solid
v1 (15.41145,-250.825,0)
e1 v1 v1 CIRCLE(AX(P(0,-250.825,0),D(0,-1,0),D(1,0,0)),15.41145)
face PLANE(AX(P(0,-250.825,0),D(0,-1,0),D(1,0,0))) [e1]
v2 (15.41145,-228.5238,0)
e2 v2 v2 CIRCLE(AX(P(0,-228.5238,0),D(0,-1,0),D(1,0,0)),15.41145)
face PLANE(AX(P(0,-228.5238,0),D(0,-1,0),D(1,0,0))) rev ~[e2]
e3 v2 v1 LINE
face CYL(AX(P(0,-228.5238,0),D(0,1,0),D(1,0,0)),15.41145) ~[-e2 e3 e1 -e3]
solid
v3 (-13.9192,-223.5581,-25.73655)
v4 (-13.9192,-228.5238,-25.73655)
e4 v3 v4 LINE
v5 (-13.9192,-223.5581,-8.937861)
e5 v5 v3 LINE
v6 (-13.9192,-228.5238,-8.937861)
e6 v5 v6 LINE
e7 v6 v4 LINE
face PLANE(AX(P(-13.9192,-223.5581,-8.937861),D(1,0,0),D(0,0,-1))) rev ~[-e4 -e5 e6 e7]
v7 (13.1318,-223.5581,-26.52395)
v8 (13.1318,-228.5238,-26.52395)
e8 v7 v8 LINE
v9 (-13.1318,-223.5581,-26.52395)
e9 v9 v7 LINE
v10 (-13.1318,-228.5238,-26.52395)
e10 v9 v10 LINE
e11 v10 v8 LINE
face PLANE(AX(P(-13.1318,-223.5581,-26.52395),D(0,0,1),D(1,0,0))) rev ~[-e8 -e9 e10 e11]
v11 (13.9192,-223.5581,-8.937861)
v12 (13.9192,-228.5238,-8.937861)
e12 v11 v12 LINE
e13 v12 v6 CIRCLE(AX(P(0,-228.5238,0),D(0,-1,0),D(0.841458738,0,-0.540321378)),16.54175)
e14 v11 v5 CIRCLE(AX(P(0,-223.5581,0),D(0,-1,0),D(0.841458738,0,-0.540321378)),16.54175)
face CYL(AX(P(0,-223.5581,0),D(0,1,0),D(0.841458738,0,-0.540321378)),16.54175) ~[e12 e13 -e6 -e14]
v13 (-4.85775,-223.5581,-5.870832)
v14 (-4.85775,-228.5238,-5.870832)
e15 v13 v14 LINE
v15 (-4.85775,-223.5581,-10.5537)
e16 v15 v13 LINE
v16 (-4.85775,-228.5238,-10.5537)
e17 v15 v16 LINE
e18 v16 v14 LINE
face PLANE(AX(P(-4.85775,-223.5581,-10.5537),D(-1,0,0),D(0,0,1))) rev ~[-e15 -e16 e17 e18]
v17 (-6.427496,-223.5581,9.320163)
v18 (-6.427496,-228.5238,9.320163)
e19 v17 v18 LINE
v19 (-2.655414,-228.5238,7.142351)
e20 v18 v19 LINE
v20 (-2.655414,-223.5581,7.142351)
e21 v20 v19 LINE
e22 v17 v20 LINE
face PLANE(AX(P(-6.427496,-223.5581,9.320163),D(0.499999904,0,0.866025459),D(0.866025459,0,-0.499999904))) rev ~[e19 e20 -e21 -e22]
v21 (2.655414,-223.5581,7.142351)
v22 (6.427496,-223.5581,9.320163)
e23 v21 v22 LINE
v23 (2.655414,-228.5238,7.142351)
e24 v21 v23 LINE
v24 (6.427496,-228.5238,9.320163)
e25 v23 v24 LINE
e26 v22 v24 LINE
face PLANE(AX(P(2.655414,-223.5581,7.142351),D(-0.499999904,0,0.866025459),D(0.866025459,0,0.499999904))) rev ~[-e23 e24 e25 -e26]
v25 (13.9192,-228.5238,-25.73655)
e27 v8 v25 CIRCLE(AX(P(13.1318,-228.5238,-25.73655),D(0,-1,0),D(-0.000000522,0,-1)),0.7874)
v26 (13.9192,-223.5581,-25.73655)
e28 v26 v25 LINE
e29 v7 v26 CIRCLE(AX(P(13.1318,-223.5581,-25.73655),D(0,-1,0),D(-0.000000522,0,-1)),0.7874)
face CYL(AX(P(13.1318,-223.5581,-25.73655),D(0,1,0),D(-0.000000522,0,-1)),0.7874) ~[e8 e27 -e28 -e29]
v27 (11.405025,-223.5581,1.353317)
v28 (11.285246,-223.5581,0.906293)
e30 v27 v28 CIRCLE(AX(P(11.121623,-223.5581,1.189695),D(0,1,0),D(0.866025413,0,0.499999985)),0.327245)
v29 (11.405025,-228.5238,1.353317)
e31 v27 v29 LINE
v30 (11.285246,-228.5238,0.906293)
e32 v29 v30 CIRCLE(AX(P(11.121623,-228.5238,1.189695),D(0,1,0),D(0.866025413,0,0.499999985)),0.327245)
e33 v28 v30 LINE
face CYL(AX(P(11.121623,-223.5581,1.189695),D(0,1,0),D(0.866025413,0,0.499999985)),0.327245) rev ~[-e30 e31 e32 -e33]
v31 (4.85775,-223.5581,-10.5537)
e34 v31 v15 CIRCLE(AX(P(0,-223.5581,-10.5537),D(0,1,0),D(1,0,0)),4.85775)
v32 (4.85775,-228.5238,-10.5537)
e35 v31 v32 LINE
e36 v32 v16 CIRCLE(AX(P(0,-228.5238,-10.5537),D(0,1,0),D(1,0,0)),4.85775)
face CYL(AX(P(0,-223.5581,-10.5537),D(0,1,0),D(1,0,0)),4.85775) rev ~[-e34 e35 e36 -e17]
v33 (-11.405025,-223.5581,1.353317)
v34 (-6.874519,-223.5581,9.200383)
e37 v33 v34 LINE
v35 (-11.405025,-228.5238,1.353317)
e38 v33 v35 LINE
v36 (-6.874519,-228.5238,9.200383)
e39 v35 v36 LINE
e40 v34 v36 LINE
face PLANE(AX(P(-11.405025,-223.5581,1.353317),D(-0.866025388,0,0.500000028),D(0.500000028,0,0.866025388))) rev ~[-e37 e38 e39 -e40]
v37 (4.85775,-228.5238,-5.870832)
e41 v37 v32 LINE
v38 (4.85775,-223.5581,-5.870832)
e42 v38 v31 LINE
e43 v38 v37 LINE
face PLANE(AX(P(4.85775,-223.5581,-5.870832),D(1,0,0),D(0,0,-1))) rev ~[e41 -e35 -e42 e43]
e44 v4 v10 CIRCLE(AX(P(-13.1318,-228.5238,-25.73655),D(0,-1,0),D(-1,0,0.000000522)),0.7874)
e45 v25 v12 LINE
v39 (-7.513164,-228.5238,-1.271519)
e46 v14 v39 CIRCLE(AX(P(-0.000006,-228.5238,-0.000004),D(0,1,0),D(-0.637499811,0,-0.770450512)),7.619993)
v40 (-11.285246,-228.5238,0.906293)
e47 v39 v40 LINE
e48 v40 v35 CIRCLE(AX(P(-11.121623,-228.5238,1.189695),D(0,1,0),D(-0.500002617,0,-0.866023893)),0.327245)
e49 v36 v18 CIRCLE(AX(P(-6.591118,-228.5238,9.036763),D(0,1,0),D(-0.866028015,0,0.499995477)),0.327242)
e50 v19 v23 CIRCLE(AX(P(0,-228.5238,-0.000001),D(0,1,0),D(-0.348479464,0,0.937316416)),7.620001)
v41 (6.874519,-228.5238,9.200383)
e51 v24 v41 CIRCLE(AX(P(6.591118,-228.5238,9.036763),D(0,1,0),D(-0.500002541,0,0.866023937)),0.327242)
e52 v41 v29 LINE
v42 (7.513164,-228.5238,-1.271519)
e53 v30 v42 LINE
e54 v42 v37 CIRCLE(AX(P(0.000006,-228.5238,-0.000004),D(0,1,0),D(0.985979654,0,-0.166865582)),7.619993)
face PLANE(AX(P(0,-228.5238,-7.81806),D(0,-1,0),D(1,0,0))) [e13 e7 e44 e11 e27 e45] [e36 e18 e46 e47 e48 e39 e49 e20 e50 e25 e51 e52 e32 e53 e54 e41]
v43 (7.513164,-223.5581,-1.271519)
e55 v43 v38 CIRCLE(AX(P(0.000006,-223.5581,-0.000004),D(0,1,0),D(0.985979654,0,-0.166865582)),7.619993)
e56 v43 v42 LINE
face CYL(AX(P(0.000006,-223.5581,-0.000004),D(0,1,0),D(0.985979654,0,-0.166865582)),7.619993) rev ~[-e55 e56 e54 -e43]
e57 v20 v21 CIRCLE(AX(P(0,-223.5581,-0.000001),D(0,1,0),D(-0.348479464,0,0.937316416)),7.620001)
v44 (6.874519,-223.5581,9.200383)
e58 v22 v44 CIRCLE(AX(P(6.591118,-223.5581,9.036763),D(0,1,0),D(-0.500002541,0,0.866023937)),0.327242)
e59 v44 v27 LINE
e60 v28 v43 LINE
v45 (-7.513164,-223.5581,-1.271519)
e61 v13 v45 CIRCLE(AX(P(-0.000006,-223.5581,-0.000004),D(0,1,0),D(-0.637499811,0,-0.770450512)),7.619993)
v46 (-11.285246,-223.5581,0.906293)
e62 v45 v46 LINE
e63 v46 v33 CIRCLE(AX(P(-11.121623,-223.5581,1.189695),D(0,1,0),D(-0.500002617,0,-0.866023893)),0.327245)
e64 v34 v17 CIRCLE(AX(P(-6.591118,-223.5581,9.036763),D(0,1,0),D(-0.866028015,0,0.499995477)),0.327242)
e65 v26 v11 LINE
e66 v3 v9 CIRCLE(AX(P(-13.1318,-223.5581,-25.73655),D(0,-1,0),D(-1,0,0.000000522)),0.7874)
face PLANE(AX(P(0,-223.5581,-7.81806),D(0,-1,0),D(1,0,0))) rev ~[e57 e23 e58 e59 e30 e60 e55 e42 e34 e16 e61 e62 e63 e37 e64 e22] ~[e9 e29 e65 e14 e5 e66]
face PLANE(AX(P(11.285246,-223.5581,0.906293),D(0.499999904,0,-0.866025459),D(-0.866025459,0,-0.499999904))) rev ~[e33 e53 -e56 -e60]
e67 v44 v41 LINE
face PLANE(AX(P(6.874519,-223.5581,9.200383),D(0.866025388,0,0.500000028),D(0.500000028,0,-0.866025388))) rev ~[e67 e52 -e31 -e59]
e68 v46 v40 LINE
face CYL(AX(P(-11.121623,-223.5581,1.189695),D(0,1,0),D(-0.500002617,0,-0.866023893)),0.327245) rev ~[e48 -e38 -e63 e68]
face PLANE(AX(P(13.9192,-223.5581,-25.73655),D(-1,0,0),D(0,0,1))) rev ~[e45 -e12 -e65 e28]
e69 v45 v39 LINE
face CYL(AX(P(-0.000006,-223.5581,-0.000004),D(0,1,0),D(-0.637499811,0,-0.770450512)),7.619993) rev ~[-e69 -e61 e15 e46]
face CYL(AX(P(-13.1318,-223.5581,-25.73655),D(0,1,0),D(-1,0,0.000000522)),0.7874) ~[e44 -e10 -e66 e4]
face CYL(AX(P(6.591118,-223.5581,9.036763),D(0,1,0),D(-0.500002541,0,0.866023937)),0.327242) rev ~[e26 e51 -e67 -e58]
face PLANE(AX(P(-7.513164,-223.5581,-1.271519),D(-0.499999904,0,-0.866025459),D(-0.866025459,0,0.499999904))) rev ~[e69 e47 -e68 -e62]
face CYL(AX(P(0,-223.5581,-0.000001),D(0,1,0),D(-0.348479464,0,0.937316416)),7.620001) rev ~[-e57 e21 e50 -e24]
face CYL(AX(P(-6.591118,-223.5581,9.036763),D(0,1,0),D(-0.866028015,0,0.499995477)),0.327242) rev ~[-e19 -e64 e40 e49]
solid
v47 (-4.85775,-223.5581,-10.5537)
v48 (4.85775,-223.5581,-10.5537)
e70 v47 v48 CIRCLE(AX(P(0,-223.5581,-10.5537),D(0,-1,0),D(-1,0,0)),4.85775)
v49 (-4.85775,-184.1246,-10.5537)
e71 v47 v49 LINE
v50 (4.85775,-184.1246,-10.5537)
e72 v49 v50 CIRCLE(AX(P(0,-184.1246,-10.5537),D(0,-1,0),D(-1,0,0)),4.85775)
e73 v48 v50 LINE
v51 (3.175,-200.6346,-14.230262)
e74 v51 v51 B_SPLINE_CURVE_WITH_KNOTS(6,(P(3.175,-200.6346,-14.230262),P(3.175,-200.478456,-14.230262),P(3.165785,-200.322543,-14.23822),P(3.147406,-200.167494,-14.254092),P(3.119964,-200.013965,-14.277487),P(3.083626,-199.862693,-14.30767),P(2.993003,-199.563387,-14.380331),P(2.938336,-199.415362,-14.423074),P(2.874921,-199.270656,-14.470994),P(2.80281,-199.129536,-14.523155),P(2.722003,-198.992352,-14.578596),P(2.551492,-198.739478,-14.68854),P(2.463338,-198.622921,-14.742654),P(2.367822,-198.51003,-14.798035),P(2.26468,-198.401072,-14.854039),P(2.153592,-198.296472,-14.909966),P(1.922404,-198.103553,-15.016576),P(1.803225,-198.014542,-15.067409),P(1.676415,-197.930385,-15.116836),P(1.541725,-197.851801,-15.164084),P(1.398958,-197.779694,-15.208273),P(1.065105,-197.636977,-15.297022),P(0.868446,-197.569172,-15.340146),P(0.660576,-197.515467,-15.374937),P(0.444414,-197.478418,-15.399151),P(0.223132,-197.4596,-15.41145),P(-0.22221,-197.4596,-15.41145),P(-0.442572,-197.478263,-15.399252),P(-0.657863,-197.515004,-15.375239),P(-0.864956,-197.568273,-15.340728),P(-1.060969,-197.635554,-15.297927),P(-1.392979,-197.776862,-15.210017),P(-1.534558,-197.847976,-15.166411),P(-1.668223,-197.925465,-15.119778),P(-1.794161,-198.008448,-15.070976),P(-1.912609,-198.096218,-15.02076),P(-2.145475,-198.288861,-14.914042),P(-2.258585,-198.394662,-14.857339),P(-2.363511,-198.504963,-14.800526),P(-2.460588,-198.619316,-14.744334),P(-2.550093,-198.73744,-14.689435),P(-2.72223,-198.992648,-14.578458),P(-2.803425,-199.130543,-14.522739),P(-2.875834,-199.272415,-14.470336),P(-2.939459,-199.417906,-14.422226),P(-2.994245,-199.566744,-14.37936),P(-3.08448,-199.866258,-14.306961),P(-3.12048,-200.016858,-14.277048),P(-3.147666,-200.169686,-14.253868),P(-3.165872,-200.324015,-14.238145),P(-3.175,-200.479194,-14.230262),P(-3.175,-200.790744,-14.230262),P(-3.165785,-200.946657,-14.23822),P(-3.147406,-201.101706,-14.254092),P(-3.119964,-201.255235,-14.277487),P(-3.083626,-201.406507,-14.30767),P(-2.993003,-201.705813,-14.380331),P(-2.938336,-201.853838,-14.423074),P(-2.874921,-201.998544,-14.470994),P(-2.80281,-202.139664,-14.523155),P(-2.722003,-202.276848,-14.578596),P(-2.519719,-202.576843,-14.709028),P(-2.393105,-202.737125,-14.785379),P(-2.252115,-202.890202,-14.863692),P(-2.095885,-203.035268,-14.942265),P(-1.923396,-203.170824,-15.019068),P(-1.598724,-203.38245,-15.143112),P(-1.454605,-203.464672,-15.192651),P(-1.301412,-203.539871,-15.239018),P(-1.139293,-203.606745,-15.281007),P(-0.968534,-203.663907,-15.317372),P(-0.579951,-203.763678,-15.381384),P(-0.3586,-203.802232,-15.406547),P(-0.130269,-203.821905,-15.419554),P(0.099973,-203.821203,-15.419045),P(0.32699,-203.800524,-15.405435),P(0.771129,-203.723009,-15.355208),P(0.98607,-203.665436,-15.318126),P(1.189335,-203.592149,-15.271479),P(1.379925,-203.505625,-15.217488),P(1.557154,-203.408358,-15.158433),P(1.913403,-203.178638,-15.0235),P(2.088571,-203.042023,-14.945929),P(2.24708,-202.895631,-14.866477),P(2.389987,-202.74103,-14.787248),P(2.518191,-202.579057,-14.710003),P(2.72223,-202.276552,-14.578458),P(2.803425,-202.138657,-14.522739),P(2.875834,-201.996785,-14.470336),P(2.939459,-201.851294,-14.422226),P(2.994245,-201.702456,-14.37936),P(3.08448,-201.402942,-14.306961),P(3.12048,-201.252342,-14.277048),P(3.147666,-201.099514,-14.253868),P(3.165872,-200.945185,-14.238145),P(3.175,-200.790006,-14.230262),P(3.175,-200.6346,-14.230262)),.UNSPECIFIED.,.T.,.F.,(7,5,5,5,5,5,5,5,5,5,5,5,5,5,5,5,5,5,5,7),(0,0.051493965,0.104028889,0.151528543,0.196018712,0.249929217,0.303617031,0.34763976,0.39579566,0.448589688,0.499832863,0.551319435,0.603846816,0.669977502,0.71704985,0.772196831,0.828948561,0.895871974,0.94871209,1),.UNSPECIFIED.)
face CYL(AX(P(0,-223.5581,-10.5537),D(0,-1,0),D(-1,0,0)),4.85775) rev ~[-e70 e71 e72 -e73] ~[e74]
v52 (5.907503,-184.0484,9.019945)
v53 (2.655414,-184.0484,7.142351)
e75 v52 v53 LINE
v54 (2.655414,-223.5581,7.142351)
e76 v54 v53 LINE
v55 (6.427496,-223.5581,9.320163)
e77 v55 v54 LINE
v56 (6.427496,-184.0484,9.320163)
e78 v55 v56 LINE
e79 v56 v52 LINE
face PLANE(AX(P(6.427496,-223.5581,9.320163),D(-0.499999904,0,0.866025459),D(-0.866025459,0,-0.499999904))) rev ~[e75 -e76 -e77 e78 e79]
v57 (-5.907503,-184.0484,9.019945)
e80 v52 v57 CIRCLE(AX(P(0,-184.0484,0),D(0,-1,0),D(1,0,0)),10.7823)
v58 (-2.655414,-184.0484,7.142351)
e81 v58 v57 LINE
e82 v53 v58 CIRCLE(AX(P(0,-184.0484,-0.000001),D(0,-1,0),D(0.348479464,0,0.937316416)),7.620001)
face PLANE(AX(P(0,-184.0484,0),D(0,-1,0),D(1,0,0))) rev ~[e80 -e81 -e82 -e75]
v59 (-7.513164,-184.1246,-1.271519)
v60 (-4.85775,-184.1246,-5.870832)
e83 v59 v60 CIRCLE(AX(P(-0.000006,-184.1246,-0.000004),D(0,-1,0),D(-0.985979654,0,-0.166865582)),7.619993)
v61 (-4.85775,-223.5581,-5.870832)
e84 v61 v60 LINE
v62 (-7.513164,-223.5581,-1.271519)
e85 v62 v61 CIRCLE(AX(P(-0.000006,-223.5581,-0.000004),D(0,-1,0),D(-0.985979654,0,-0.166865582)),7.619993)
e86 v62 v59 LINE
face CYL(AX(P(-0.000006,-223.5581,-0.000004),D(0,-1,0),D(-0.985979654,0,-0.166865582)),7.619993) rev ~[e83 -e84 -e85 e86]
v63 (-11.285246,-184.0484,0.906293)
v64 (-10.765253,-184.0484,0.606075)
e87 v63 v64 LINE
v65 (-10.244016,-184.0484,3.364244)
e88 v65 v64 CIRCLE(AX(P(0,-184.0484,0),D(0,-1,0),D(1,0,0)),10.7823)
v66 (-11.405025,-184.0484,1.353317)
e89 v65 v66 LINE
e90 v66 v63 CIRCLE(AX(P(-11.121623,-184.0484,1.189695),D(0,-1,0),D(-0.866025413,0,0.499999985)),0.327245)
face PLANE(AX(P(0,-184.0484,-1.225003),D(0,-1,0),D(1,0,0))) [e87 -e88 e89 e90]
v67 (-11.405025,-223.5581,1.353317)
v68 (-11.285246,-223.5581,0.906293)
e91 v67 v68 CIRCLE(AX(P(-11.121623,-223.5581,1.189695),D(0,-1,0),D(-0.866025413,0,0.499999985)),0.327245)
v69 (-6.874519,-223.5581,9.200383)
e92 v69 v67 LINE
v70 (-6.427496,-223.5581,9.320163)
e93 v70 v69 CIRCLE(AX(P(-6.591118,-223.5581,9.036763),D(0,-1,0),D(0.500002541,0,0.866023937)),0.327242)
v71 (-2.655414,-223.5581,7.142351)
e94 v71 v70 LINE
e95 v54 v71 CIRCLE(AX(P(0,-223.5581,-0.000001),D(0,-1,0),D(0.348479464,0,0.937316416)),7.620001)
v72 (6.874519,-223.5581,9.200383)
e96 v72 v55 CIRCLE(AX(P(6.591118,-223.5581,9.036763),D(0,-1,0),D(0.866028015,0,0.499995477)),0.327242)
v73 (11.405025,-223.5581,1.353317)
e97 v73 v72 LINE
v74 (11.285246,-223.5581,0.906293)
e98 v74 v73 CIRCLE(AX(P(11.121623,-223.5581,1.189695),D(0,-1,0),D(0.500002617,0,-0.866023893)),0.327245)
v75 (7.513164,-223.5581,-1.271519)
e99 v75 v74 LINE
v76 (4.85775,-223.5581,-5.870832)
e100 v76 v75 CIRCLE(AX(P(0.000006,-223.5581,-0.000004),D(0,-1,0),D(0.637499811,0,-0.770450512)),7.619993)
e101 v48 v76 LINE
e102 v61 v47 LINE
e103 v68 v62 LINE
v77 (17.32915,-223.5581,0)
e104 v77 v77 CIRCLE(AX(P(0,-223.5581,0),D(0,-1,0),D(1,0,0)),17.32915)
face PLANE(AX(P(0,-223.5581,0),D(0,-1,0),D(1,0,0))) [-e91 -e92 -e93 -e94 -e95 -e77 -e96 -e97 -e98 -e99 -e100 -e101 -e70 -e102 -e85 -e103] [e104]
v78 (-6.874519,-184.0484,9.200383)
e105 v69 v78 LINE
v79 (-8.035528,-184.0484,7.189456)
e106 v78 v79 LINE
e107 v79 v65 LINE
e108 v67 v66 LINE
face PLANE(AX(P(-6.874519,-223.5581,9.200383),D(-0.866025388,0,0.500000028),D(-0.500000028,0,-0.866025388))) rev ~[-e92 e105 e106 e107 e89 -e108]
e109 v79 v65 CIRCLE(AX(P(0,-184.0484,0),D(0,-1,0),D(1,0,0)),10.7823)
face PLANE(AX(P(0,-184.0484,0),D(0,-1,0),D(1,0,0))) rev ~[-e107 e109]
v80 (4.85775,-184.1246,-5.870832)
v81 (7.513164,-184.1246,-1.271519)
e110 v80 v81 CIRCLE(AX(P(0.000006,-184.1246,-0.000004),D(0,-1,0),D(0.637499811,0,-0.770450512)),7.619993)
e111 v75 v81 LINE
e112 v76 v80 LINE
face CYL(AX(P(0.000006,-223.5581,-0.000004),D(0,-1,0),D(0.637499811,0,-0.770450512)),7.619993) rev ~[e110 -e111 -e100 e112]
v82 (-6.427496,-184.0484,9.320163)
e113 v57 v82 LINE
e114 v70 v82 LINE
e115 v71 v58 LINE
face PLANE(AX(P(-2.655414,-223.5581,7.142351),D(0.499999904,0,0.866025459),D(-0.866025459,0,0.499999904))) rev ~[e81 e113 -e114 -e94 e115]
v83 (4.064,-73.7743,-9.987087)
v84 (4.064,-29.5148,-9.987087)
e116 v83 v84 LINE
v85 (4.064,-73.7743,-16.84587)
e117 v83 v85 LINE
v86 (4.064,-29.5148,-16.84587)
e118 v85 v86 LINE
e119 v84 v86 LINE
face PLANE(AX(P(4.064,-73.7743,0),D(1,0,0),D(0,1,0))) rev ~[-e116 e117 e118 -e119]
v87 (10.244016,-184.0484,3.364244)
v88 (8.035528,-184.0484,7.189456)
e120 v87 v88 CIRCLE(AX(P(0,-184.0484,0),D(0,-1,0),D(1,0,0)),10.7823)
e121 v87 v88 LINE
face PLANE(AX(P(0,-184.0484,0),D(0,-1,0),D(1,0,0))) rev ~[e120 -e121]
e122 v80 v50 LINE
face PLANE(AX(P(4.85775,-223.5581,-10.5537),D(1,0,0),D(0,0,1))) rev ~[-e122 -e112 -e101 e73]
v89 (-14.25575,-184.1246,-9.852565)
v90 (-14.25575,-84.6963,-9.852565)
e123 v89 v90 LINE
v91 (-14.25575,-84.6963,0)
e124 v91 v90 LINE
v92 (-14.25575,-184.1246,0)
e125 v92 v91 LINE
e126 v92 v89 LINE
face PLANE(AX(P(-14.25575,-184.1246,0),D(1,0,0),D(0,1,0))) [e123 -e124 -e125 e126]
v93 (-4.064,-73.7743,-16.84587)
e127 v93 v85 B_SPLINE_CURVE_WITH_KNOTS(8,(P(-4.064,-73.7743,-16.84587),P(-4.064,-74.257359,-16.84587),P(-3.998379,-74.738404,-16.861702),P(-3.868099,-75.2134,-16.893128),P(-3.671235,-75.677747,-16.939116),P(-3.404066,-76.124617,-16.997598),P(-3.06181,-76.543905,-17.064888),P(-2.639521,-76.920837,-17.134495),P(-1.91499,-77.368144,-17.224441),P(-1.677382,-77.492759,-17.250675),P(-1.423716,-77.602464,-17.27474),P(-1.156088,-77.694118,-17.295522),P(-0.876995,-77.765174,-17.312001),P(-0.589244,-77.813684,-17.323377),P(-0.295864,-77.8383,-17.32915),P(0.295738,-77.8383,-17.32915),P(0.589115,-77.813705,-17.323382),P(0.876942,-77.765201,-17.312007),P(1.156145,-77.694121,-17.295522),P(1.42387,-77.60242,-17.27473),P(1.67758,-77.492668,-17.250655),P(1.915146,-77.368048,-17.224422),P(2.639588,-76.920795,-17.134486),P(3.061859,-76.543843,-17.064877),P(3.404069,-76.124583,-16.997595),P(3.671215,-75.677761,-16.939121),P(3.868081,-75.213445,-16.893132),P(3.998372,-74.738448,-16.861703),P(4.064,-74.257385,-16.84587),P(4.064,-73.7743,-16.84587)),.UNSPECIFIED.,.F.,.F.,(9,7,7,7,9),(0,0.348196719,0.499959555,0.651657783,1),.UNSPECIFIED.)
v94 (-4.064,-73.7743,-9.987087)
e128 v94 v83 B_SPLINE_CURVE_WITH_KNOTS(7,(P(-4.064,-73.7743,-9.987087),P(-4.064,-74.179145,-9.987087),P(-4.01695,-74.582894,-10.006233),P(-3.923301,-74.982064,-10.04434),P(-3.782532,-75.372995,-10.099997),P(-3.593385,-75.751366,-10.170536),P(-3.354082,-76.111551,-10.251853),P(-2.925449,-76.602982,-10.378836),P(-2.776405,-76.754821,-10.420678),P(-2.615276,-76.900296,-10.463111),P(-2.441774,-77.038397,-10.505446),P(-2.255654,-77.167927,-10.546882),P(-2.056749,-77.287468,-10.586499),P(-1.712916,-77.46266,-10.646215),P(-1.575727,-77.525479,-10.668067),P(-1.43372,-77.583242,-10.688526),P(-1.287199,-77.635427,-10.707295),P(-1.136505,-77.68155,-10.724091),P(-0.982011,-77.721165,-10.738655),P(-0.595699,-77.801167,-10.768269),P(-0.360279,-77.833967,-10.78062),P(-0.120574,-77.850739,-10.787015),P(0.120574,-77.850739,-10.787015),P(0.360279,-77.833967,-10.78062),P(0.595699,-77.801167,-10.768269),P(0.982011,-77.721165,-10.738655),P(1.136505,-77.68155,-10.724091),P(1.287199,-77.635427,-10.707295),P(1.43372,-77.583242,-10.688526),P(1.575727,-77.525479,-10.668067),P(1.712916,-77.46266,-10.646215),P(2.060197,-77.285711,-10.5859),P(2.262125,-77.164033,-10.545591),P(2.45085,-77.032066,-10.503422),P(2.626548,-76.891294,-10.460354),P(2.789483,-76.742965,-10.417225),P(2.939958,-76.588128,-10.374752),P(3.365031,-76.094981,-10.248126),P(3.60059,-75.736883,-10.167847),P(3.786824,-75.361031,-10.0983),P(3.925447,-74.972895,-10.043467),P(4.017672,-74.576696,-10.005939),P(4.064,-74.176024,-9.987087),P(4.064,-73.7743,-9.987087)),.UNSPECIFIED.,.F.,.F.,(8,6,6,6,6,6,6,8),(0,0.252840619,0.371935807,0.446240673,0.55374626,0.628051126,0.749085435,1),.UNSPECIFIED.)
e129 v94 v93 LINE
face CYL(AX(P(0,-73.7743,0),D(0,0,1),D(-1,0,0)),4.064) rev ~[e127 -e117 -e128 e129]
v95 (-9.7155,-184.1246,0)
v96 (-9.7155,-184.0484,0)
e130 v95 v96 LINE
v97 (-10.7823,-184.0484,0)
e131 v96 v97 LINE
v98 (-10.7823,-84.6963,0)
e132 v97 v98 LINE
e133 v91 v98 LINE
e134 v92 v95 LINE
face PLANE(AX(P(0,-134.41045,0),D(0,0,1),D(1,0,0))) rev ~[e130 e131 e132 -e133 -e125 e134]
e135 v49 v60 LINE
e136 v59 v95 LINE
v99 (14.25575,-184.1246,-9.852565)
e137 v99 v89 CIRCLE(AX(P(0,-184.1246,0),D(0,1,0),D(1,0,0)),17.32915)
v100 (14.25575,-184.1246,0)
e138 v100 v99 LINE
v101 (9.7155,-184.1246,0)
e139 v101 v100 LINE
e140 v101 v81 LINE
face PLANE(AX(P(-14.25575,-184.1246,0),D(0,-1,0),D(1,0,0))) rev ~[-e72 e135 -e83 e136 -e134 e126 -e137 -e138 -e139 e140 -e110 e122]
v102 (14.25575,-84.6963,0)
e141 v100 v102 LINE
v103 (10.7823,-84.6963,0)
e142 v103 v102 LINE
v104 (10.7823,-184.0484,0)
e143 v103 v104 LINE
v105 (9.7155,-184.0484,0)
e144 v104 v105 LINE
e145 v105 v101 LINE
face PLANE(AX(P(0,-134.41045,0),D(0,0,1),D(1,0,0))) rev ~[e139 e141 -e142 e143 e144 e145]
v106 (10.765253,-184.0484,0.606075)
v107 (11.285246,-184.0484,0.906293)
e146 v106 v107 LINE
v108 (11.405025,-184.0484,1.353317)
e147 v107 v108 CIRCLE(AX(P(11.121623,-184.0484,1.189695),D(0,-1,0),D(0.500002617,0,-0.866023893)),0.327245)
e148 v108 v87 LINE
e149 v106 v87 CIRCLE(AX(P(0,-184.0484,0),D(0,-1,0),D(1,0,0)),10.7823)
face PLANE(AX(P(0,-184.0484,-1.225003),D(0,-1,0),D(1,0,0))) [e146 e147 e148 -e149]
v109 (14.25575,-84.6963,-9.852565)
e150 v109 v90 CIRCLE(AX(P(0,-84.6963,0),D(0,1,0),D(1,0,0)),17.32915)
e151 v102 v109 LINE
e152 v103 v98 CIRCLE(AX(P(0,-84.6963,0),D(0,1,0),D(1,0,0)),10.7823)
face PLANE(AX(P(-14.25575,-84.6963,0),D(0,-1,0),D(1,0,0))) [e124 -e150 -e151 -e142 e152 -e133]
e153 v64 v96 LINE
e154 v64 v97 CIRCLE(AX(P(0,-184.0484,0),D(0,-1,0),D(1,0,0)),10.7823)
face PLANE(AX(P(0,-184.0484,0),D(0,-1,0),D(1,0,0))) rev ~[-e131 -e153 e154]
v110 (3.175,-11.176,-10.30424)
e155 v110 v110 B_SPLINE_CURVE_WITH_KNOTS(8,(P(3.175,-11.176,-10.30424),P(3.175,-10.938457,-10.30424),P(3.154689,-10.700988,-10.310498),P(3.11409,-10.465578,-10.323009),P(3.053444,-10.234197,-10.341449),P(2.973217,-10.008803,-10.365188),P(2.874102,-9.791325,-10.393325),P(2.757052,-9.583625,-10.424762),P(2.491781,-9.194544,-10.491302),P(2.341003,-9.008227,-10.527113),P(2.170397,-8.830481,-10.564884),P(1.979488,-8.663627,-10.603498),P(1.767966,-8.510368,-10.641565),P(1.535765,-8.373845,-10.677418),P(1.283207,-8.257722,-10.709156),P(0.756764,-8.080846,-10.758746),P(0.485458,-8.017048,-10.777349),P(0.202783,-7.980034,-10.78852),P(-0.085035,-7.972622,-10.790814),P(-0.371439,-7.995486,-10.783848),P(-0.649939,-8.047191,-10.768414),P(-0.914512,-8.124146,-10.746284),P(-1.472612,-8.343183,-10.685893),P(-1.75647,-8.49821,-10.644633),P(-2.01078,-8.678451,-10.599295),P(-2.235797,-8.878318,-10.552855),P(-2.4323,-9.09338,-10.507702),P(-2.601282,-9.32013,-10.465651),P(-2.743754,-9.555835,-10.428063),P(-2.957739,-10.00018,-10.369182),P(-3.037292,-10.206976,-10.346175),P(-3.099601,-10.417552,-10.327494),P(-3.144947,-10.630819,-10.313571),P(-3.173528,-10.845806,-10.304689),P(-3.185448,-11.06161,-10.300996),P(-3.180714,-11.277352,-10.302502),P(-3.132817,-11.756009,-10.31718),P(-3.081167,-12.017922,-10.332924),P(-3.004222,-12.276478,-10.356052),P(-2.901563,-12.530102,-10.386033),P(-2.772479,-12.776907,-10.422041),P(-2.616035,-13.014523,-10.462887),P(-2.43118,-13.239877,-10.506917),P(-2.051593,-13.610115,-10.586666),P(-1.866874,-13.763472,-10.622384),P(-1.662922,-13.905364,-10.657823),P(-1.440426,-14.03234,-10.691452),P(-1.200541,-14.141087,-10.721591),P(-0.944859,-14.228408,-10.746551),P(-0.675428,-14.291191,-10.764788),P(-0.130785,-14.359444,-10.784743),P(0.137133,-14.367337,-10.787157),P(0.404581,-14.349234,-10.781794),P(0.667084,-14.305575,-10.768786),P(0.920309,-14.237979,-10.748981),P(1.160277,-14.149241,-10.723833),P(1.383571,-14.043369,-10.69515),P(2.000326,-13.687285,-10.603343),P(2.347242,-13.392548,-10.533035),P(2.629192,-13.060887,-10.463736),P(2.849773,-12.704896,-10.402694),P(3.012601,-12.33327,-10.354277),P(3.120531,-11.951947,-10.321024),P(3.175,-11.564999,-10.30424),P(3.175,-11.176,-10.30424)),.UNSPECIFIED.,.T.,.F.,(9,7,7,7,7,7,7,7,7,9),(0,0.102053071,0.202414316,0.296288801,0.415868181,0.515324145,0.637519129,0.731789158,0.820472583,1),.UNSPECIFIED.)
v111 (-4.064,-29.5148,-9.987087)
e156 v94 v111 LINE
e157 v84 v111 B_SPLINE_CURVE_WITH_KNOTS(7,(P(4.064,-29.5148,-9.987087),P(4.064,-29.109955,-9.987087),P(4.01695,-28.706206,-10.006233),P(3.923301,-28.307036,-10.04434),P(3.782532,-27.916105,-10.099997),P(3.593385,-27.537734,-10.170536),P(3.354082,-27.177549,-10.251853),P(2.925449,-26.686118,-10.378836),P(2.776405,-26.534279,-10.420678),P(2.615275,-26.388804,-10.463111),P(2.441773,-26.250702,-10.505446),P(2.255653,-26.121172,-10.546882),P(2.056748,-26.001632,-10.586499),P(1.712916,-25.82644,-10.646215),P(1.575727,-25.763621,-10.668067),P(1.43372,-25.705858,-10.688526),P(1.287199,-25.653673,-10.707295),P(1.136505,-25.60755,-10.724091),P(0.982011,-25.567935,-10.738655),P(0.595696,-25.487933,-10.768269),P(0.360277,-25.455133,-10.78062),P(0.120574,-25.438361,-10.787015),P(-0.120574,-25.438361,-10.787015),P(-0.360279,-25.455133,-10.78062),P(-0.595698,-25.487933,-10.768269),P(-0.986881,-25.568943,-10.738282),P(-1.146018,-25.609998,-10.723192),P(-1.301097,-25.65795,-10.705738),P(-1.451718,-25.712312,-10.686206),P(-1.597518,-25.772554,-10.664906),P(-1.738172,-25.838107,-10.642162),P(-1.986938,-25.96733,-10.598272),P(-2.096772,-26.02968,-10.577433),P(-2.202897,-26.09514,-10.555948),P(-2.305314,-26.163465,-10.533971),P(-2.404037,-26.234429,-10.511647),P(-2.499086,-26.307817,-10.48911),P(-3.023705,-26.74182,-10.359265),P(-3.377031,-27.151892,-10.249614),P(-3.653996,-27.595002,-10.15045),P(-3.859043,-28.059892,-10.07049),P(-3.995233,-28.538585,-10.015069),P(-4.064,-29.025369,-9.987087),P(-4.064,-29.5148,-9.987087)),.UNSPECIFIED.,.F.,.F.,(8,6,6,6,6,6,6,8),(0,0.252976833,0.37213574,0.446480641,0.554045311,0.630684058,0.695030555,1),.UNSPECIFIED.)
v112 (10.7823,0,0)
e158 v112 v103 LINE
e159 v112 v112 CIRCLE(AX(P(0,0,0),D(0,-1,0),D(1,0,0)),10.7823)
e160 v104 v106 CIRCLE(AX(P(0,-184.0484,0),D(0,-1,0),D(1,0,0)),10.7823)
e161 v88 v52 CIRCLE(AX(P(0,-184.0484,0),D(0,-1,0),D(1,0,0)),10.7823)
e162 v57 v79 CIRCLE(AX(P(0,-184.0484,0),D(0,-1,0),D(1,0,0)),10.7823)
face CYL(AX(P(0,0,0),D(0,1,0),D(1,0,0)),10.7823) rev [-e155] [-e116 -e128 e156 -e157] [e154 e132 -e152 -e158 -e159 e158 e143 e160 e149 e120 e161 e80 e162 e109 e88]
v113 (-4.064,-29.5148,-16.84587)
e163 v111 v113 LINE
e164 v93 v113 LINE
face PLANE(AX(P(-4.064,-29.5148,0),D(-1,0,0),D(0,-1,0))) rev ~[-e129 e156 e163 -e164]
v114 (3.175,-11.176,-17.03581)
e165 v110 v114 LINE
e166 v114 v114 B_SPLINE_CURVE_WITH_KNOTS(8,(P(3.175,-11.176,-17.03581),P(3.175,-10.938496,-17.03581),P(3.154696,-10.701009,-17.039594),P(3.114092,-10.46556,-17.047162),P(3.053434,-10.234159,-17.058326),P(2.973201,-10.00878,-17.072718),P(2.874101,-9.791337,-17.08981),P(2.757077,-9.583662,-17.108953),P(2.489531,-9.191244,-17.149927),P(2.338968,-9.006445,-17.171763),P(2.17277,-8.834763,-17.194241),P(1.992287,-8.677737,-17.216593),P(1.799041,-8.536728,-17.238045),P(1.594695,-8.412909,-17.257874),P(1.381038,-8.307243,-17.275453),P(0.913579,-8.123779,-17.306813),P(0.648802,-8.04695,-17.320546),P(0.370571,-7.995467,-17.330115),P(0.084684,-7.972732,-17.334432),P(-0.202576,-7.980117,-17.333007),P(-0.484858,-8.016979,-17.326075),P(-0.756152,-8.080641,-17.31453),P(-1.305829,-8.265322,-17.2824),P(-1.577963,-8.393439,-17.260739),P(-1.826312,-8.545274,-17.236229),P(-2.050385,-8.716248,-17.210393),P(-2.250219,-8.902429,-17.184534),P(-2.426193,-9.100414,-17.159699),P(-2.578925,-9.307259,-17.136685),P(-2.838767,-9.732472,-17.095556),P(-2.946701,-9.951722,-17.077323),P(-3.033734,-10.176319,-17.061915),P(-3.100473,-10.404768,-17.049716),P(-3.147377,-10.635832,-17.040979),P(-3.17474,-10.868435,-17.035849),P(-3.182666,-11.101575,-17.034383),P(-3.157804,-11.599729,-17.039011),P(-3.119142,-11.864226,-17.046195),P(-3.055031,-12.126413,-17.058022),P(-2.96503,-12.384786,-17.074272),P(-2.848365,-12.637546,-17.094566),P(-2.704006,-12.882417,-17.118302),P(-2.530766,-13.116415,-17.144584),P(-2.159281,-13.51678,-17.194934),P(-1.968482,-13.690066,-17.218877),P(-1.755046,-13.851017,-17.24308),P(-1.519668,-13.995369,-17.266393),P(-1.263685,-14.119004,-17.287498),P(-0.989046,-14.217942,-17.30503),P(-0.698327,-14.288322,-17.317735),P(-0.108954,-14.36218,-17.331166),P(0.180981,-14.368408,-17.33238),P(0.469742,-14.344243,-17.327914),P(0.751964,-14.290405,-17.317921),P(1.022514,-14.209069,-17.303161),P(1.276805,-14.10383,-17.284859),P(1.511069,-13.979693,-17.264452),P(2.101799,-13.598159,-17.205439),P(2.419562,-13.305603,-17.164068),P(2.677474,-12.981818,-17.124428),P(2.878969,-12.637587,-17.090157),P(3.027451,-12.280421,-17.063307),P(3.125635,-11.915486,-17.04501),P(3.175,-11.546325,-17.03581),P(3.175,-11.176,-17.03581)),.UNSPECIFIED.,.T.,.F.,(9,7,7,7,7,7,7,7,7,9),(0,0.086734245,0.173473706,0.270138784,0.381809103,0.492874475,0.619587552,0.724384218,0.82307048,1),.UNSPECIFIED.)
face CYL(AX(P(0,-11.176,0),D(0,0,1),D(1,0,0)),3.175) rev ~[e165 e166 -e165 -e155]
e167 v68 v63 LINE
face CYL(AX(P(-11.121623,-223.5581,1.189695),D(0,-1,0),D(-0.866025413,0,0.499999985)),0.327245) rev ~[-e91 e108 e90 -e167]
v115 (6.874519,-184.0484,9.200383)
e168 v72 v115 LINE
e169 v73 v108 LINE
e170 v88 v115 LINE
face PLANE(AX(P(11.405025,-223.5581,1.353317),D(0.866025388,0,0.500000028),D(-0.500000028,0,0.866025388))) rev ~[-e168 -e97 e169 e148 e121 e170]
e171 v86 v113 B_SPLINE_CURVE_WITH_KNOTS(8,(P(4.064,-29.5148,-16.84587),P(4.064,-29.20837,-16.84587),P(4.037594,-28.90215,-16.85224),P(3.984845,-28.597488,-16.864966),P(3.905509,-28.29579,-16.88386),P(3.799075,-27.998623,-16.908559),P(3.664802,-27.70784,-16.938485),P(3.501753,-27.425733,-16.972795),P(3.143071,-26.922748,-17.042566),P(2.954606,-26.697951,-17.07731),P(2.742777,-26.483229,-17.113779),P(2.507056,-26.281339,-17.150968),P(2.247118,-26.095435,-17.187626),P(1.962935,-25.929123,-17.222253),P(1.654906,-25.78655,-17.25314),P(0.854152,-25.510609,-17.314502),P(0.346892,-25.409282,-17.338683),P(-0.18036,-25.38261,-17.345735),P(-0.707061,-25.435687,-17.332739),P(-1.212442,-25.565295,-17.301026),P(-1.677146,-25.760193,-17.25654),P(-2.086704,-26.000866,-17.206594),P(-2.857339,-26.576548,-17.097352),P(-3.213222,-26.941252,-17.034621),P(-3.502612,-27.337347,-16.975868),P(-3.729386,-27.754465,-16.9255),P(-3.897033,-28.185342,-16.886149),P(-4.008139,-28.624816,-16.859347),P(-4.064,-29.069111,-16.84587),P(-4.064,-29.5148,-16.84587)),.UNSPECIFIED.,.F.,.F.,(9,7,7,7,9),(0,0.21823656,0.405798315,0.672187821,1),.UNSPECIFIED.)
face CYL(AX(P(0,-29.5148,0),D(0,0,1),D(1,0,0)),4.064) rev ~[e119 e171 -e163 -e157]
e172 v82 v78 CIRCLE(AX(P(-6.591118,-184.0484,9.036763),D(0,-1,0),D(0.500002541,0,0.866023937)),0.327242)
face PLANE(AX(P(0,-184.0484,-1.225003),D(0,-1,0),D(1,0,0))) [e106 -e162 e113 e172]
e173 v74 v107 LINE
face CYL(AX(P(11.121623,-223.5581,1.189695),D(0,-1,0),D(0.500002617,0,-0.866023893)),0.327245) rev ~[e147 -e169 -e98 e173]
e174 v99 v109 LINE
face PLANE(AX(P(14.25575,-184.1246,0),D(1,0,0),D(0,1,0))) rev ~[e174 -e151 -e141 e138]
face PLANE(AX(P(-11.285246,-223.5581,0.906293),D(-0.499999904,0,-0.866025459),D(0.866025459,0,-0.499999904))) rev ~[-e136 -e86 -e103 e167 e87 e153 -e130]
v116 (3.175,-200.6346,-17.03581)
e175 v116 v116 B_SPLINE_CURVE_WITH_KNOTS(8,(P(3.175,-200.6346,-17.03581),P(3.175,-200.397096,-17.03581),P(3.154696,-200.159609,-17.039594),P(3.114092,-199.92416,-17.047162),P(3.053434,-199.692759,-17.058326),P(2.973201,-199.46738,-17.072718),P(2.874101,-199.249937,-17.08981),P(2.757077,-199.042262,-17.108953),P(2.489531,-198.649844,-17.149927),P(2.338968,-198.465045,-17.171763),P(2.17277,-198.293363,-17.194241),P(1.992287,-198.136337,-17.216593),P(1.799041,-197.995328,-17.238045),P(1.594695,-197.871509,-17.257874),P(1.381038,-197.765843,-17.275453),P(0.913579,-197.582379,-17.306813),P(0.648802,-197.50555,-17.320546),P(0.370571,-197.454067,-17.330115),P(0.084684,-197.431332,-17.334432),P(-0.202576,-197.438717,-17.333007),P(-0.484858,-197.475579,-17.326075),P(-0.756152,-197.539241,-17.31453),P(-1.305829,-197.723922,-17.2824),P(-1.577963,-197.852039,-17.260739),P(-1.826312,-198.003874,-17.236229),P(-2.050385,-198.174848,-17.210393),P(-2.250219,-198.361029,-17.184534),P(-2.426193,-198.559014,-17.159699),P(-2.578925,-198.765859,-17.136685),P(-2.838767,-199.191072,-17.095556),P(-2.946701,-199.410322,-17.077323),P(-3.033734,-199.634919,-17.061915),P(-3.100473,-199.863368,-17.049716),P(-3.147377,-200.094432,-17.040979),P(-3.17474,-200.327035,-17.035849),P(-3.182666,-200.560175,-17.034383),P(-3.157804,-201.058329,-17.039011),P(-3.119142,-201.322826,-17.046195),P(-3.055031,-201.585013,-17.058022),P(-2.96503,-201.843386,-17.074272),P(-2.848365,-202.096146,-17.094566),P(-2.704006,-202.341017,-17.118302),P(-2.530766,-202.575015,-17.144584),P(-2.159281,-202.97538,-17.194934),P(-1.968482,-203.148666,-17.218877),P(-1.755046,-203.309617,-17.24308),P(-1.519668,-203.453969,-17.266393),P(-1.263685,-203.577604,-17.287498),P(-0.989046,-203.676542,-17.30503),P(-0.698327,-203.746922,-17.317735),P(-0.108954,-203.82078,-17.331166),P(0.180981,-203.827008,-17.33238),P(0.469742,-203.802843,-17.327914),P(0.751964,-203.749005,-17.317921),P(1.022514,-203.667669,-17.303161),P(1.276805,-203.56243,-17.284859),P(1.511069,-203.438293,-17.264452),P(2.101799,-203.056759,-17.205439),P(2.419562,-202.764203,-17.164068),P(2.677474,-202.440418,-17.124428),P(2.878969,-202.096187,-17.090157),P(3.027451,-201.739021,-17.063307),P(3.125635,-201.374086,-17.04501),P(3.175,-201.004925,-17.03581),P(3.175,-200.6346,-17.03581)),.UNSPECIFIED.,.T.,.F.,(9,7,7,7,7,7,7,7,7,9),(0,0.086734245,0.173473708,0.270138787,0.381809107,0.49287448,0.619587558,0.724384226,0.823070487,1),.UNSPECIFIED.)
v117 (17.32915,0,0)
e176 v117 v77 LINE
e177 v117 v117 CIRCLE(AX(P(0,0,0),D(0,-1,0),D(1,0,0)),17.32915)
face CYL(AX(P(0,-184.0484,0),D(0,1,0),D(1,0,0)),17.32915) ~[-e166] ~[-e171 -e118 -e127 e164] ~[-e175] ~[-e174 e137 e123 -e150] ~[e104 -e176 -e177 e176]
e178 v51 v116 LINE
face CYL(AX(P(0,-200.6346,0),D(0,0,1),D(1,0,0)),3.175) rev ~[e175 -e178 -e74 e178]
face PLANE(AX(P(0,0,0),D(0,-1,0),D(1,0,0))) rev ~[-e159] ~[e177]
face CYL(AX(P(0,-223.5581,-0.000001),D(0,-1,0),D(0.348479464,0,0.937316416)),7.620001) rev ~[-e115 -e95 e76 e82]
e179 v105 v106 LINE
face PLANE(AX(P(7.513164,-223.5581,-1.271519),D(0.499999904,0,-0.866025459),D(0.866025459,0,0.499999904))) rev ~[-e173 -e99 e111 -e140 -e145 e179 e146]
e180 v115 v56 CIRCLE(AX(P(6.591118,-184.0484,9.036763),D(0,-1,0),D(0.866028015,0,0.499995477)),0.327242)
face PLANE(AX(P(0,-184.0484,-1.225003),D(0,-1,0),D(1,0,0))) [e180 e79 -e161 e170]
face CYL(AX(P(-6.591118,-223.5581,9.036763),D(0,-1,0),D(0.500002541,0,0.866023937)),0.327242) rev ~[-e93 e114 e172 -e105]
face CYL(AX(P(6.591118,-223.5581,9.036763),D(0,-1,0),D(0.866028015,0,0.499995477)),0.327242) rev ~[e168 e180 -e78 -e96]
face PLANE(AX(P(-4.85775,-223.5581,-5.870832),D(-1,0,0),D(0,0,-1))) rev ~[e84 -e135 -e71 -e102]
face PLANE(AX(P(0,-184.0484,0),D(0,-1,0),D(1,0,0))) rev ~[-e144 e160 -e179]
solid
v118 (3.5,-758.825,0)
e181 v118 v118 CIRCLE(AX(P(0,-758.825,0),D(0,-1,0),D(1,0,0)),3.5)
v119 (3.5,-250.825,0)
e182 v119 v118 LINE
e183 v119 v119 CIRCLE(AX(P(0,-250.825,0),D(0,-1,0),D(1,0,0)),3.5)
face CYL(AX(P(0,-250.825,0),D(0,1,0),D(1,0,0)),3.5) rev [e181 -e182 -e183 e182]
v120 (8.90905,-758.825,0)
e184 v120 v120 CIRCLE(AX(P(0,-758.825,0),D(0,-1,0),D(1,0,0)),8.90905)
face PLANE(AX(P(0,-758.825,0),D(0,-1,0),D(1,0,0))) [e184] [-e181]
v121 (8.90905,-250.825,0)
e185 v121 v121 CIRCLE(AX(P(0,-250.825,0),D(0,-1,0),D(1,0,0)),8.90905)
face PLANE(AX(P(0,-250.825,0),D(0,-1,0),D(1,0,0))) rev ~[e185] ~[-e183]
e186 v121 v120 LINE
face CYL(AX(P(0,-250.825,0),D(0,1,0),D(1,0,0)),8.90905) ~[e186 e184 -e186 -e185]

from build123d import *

# Parameters (mm, degrees)
F0_R      = 17.32915
F0_R_2    = 10.7823
F1_DEPTH  = 184.0484
F2_R      = 17.32915
F3_DEPTH  = 39.5097
F5_DEPTH  = 39.5097
F7_DEPTH  = 4.9657
F8_R      = 15.41145
F9_DEPTH  = 22.3012
F10_R     = 8.90905
F10_R_2   = 3.5
F11_DEPTH = 508
F12_W     = 28.5115
F12_H     = 99.4283
F13_DEPTH = 25.4
F14_R     = 3.175
F15_DEPTH = 25.4


with BuildPart() as f1:
    # F0 (on Front) → F1 (new body)
    with BuildSketch(Plane.XZ):
        Circle(F0_R)
        Circle(F0_R_2, mode=Mode.SUBTRACT)
    extrude(amount=F1_DEPTH)

    # F2 (on face) → F3 (join)
    with BuildSketch(Plane.XZ.offset(184.0484)):
        Circle(F2_R)
    extrude(amount=F3_DEPTH)

    # F4 (on face) → F5 (cut, through all)
    with BuildSketch(Plane.XZ.offset(223.5581)):
        with BuildLine():
            Line((6.427496, 9.320163), (2.655414, 7.142351))
            ThreePointArc((2.655414, 7.142351), (0, 7.62), (-2.655414, 7.142351))
            Line((-2.655414, 7.142351), (-6.427496, 9.320163))
            ThreePointArc((-6.427496, 9.320163), (-6.675815, 9.352855), (-6.874519, 9.200383))
            Line((-6.874519, 9.200383), (-11.405025, 1.353317))
            ThreePointArc((-11.405025, 1.353317), (-11.437717, 1.104998), (-11.285246, 0.906293))
            Line((-11.285246, 0.906293), (-7.513164, -1.271519))
            ThreePointArc((-7.513164, -1.271519), (-6.599114, -3.81), (-4.85775, -5.870832))
            Line((-4.85775, -5.870832), (-4.85775, -10.5537))
            ThreePointArc((-4.85775, -10.5537), (0, -15.41145), (4.85775, -10.5537))
            Line((4.85775, -10.5537), (4.85775, -5.870832))
            ThreePointArc((4.85775, -5.870832), (6.599114, -3.81), (7.513164, -1.271519))
            Line((7.513164, -1.271519), (11.285246, 0.906293))
            ThreePointArc((11.285246, 0.906293), (11.437717, 1.104998), (11.405025, 1.353317))
            Line((11.405025, 1.353317), (6.874519, 9.200383))
            ThreePointArc((6.874519, 9.200383), (6.675815, 9.352855), (6.427496, 9.320163))
        make_face()
    extrude(amount=-F5_DEPTH, mode=Mode.SUBTRACT)

    # F12 (on Top) → F13 (cut)
    with BuildSketch(Plane.XY):
        with Locations((0, -134.41045)):
            Rectangle(F12_W, F12_H)
    extrude(amount=-F13_DEPTH, mode=Mode.SUBTRACT)

    # F14 (on Top) → F15 (cut)
    with BuildSketch(Plane.XY):
        with BuildLine():
            ThreePointArc((4.064, -29.5148), (0, -25.4508), (-4.064, -29.5148))
            Line((-4.064, -29.5148), (-4.064, -73.7743))
            ThreePointArc((-4.064, -73.7743), (0, -77.8383), (4.064, -73.7743))
            Line((4.064, -73.7743), (4.064, -29.5148))
        make_face()
        with Locations((0, -11.176)):
            Circle(F14_R)
        with Locations((0, -200.6346)):
            Circle(F14_R)
    extrude(amount=-F15_DEPTH, mode=Mode.SUBTRACT)


with BuildPart() as f7:
    # F6 (on face) → F7 (new body)
    with BuildSketch(Plane.XZ.offset(223.5581)):
        with BuildLine():
            Line((13.9192, -25.73655), (13.9192, -8.937861))
            ThreePointArc((13.9192, -8.937861), (0, 16.54175), (-13.9192, -8.937861))
            Line((-13.9192, -8.937861), (-13.9192, -25.73655))
            ThreePointArc((-13.9192, -25.73655), (-13.688576, -26.293326), (-13.1318, -26.52395))
            Line((-13.1318, -26.52395), (13.1318, -26.52395))
            ThreePointArc((13.1318, -26.52395), (13.688576, -26.293326), (13.9192, -25.73655))
        make_face()
        with BuildLine():
            ThreePointArc((-4.85775, -5.870832), (-6.599114, -3.81), (-7.513164, -1.271519))
            Line((-7.513164, -1.271519), (-11.285246, 0.906293))
            ThreePointArc((-11.285246, 0.906293), (-11.437717, 1.104998), (-11.405025, 1.353317))
            Line((-11.405025, 1.353317), (-6.874519, 9.200383))
            ThreePointArc((-6.874519, 9.200383), (-6.675815, 9.352855), (-6.427496, 9.320163))
            Line((-6.427496, 9.320163), (-2.655414, 7.142351))
            ThreePointArc((-2.655414, 7.142351), (0, 7.62), (2.655414, 7.142351))
            Line((2.655414, 7.142351), (6.427496, 9.320163))
            ThreePointArc((6.427496, 9.320163), (6.675815, 9.352855), (6.874519, 9.200383))
            Line((6.874519, 9.200383), (11.405025, 1.353317))
            ThreePointArc((11.405025, 1.353317), (11.437717, 1.104998), (11.285246, 0.906293))
            Line((11.285246, 0.906293), (7.513164, -1.271519))
            ThreePointArc((7.513164, -1.271519), (6.599114, -3.81), (4.85775, -5.870832))
            Line((4.85775, -5.870832), (4.85775, -10.5537))
            ThreePointArc((4.85775, -10.5537), (0, -15.41145), (-4.85775, -10.5537))
            Line((-4.85775, -10.5537), (-4.85775, -5.870832))
        make_face(mode=Mode.SUBTRACT)
    extrude(amount=F7_DEPTH)


with BuildPart() as f9:
    # F8 (on face) → F9 (new body)
    with BuildSketch(Plane.XZ.offset(228.5238)):
        Circle(F8_R)
    extrude(amount=F9_DEPTH)


with BuildPart() as f11:
    # F10 (on face) → F11 (new body)
    with BuildSketch(Plane.XZ.offset(250.825)):
        Circle(F10_R)
        Circle(F10_R_2, mode=Mode.SUBTRACT)
    extrude(amount=F11_DEPTH)


solid = Compound([f1.part, f7.part, f9.part, f11.part])
